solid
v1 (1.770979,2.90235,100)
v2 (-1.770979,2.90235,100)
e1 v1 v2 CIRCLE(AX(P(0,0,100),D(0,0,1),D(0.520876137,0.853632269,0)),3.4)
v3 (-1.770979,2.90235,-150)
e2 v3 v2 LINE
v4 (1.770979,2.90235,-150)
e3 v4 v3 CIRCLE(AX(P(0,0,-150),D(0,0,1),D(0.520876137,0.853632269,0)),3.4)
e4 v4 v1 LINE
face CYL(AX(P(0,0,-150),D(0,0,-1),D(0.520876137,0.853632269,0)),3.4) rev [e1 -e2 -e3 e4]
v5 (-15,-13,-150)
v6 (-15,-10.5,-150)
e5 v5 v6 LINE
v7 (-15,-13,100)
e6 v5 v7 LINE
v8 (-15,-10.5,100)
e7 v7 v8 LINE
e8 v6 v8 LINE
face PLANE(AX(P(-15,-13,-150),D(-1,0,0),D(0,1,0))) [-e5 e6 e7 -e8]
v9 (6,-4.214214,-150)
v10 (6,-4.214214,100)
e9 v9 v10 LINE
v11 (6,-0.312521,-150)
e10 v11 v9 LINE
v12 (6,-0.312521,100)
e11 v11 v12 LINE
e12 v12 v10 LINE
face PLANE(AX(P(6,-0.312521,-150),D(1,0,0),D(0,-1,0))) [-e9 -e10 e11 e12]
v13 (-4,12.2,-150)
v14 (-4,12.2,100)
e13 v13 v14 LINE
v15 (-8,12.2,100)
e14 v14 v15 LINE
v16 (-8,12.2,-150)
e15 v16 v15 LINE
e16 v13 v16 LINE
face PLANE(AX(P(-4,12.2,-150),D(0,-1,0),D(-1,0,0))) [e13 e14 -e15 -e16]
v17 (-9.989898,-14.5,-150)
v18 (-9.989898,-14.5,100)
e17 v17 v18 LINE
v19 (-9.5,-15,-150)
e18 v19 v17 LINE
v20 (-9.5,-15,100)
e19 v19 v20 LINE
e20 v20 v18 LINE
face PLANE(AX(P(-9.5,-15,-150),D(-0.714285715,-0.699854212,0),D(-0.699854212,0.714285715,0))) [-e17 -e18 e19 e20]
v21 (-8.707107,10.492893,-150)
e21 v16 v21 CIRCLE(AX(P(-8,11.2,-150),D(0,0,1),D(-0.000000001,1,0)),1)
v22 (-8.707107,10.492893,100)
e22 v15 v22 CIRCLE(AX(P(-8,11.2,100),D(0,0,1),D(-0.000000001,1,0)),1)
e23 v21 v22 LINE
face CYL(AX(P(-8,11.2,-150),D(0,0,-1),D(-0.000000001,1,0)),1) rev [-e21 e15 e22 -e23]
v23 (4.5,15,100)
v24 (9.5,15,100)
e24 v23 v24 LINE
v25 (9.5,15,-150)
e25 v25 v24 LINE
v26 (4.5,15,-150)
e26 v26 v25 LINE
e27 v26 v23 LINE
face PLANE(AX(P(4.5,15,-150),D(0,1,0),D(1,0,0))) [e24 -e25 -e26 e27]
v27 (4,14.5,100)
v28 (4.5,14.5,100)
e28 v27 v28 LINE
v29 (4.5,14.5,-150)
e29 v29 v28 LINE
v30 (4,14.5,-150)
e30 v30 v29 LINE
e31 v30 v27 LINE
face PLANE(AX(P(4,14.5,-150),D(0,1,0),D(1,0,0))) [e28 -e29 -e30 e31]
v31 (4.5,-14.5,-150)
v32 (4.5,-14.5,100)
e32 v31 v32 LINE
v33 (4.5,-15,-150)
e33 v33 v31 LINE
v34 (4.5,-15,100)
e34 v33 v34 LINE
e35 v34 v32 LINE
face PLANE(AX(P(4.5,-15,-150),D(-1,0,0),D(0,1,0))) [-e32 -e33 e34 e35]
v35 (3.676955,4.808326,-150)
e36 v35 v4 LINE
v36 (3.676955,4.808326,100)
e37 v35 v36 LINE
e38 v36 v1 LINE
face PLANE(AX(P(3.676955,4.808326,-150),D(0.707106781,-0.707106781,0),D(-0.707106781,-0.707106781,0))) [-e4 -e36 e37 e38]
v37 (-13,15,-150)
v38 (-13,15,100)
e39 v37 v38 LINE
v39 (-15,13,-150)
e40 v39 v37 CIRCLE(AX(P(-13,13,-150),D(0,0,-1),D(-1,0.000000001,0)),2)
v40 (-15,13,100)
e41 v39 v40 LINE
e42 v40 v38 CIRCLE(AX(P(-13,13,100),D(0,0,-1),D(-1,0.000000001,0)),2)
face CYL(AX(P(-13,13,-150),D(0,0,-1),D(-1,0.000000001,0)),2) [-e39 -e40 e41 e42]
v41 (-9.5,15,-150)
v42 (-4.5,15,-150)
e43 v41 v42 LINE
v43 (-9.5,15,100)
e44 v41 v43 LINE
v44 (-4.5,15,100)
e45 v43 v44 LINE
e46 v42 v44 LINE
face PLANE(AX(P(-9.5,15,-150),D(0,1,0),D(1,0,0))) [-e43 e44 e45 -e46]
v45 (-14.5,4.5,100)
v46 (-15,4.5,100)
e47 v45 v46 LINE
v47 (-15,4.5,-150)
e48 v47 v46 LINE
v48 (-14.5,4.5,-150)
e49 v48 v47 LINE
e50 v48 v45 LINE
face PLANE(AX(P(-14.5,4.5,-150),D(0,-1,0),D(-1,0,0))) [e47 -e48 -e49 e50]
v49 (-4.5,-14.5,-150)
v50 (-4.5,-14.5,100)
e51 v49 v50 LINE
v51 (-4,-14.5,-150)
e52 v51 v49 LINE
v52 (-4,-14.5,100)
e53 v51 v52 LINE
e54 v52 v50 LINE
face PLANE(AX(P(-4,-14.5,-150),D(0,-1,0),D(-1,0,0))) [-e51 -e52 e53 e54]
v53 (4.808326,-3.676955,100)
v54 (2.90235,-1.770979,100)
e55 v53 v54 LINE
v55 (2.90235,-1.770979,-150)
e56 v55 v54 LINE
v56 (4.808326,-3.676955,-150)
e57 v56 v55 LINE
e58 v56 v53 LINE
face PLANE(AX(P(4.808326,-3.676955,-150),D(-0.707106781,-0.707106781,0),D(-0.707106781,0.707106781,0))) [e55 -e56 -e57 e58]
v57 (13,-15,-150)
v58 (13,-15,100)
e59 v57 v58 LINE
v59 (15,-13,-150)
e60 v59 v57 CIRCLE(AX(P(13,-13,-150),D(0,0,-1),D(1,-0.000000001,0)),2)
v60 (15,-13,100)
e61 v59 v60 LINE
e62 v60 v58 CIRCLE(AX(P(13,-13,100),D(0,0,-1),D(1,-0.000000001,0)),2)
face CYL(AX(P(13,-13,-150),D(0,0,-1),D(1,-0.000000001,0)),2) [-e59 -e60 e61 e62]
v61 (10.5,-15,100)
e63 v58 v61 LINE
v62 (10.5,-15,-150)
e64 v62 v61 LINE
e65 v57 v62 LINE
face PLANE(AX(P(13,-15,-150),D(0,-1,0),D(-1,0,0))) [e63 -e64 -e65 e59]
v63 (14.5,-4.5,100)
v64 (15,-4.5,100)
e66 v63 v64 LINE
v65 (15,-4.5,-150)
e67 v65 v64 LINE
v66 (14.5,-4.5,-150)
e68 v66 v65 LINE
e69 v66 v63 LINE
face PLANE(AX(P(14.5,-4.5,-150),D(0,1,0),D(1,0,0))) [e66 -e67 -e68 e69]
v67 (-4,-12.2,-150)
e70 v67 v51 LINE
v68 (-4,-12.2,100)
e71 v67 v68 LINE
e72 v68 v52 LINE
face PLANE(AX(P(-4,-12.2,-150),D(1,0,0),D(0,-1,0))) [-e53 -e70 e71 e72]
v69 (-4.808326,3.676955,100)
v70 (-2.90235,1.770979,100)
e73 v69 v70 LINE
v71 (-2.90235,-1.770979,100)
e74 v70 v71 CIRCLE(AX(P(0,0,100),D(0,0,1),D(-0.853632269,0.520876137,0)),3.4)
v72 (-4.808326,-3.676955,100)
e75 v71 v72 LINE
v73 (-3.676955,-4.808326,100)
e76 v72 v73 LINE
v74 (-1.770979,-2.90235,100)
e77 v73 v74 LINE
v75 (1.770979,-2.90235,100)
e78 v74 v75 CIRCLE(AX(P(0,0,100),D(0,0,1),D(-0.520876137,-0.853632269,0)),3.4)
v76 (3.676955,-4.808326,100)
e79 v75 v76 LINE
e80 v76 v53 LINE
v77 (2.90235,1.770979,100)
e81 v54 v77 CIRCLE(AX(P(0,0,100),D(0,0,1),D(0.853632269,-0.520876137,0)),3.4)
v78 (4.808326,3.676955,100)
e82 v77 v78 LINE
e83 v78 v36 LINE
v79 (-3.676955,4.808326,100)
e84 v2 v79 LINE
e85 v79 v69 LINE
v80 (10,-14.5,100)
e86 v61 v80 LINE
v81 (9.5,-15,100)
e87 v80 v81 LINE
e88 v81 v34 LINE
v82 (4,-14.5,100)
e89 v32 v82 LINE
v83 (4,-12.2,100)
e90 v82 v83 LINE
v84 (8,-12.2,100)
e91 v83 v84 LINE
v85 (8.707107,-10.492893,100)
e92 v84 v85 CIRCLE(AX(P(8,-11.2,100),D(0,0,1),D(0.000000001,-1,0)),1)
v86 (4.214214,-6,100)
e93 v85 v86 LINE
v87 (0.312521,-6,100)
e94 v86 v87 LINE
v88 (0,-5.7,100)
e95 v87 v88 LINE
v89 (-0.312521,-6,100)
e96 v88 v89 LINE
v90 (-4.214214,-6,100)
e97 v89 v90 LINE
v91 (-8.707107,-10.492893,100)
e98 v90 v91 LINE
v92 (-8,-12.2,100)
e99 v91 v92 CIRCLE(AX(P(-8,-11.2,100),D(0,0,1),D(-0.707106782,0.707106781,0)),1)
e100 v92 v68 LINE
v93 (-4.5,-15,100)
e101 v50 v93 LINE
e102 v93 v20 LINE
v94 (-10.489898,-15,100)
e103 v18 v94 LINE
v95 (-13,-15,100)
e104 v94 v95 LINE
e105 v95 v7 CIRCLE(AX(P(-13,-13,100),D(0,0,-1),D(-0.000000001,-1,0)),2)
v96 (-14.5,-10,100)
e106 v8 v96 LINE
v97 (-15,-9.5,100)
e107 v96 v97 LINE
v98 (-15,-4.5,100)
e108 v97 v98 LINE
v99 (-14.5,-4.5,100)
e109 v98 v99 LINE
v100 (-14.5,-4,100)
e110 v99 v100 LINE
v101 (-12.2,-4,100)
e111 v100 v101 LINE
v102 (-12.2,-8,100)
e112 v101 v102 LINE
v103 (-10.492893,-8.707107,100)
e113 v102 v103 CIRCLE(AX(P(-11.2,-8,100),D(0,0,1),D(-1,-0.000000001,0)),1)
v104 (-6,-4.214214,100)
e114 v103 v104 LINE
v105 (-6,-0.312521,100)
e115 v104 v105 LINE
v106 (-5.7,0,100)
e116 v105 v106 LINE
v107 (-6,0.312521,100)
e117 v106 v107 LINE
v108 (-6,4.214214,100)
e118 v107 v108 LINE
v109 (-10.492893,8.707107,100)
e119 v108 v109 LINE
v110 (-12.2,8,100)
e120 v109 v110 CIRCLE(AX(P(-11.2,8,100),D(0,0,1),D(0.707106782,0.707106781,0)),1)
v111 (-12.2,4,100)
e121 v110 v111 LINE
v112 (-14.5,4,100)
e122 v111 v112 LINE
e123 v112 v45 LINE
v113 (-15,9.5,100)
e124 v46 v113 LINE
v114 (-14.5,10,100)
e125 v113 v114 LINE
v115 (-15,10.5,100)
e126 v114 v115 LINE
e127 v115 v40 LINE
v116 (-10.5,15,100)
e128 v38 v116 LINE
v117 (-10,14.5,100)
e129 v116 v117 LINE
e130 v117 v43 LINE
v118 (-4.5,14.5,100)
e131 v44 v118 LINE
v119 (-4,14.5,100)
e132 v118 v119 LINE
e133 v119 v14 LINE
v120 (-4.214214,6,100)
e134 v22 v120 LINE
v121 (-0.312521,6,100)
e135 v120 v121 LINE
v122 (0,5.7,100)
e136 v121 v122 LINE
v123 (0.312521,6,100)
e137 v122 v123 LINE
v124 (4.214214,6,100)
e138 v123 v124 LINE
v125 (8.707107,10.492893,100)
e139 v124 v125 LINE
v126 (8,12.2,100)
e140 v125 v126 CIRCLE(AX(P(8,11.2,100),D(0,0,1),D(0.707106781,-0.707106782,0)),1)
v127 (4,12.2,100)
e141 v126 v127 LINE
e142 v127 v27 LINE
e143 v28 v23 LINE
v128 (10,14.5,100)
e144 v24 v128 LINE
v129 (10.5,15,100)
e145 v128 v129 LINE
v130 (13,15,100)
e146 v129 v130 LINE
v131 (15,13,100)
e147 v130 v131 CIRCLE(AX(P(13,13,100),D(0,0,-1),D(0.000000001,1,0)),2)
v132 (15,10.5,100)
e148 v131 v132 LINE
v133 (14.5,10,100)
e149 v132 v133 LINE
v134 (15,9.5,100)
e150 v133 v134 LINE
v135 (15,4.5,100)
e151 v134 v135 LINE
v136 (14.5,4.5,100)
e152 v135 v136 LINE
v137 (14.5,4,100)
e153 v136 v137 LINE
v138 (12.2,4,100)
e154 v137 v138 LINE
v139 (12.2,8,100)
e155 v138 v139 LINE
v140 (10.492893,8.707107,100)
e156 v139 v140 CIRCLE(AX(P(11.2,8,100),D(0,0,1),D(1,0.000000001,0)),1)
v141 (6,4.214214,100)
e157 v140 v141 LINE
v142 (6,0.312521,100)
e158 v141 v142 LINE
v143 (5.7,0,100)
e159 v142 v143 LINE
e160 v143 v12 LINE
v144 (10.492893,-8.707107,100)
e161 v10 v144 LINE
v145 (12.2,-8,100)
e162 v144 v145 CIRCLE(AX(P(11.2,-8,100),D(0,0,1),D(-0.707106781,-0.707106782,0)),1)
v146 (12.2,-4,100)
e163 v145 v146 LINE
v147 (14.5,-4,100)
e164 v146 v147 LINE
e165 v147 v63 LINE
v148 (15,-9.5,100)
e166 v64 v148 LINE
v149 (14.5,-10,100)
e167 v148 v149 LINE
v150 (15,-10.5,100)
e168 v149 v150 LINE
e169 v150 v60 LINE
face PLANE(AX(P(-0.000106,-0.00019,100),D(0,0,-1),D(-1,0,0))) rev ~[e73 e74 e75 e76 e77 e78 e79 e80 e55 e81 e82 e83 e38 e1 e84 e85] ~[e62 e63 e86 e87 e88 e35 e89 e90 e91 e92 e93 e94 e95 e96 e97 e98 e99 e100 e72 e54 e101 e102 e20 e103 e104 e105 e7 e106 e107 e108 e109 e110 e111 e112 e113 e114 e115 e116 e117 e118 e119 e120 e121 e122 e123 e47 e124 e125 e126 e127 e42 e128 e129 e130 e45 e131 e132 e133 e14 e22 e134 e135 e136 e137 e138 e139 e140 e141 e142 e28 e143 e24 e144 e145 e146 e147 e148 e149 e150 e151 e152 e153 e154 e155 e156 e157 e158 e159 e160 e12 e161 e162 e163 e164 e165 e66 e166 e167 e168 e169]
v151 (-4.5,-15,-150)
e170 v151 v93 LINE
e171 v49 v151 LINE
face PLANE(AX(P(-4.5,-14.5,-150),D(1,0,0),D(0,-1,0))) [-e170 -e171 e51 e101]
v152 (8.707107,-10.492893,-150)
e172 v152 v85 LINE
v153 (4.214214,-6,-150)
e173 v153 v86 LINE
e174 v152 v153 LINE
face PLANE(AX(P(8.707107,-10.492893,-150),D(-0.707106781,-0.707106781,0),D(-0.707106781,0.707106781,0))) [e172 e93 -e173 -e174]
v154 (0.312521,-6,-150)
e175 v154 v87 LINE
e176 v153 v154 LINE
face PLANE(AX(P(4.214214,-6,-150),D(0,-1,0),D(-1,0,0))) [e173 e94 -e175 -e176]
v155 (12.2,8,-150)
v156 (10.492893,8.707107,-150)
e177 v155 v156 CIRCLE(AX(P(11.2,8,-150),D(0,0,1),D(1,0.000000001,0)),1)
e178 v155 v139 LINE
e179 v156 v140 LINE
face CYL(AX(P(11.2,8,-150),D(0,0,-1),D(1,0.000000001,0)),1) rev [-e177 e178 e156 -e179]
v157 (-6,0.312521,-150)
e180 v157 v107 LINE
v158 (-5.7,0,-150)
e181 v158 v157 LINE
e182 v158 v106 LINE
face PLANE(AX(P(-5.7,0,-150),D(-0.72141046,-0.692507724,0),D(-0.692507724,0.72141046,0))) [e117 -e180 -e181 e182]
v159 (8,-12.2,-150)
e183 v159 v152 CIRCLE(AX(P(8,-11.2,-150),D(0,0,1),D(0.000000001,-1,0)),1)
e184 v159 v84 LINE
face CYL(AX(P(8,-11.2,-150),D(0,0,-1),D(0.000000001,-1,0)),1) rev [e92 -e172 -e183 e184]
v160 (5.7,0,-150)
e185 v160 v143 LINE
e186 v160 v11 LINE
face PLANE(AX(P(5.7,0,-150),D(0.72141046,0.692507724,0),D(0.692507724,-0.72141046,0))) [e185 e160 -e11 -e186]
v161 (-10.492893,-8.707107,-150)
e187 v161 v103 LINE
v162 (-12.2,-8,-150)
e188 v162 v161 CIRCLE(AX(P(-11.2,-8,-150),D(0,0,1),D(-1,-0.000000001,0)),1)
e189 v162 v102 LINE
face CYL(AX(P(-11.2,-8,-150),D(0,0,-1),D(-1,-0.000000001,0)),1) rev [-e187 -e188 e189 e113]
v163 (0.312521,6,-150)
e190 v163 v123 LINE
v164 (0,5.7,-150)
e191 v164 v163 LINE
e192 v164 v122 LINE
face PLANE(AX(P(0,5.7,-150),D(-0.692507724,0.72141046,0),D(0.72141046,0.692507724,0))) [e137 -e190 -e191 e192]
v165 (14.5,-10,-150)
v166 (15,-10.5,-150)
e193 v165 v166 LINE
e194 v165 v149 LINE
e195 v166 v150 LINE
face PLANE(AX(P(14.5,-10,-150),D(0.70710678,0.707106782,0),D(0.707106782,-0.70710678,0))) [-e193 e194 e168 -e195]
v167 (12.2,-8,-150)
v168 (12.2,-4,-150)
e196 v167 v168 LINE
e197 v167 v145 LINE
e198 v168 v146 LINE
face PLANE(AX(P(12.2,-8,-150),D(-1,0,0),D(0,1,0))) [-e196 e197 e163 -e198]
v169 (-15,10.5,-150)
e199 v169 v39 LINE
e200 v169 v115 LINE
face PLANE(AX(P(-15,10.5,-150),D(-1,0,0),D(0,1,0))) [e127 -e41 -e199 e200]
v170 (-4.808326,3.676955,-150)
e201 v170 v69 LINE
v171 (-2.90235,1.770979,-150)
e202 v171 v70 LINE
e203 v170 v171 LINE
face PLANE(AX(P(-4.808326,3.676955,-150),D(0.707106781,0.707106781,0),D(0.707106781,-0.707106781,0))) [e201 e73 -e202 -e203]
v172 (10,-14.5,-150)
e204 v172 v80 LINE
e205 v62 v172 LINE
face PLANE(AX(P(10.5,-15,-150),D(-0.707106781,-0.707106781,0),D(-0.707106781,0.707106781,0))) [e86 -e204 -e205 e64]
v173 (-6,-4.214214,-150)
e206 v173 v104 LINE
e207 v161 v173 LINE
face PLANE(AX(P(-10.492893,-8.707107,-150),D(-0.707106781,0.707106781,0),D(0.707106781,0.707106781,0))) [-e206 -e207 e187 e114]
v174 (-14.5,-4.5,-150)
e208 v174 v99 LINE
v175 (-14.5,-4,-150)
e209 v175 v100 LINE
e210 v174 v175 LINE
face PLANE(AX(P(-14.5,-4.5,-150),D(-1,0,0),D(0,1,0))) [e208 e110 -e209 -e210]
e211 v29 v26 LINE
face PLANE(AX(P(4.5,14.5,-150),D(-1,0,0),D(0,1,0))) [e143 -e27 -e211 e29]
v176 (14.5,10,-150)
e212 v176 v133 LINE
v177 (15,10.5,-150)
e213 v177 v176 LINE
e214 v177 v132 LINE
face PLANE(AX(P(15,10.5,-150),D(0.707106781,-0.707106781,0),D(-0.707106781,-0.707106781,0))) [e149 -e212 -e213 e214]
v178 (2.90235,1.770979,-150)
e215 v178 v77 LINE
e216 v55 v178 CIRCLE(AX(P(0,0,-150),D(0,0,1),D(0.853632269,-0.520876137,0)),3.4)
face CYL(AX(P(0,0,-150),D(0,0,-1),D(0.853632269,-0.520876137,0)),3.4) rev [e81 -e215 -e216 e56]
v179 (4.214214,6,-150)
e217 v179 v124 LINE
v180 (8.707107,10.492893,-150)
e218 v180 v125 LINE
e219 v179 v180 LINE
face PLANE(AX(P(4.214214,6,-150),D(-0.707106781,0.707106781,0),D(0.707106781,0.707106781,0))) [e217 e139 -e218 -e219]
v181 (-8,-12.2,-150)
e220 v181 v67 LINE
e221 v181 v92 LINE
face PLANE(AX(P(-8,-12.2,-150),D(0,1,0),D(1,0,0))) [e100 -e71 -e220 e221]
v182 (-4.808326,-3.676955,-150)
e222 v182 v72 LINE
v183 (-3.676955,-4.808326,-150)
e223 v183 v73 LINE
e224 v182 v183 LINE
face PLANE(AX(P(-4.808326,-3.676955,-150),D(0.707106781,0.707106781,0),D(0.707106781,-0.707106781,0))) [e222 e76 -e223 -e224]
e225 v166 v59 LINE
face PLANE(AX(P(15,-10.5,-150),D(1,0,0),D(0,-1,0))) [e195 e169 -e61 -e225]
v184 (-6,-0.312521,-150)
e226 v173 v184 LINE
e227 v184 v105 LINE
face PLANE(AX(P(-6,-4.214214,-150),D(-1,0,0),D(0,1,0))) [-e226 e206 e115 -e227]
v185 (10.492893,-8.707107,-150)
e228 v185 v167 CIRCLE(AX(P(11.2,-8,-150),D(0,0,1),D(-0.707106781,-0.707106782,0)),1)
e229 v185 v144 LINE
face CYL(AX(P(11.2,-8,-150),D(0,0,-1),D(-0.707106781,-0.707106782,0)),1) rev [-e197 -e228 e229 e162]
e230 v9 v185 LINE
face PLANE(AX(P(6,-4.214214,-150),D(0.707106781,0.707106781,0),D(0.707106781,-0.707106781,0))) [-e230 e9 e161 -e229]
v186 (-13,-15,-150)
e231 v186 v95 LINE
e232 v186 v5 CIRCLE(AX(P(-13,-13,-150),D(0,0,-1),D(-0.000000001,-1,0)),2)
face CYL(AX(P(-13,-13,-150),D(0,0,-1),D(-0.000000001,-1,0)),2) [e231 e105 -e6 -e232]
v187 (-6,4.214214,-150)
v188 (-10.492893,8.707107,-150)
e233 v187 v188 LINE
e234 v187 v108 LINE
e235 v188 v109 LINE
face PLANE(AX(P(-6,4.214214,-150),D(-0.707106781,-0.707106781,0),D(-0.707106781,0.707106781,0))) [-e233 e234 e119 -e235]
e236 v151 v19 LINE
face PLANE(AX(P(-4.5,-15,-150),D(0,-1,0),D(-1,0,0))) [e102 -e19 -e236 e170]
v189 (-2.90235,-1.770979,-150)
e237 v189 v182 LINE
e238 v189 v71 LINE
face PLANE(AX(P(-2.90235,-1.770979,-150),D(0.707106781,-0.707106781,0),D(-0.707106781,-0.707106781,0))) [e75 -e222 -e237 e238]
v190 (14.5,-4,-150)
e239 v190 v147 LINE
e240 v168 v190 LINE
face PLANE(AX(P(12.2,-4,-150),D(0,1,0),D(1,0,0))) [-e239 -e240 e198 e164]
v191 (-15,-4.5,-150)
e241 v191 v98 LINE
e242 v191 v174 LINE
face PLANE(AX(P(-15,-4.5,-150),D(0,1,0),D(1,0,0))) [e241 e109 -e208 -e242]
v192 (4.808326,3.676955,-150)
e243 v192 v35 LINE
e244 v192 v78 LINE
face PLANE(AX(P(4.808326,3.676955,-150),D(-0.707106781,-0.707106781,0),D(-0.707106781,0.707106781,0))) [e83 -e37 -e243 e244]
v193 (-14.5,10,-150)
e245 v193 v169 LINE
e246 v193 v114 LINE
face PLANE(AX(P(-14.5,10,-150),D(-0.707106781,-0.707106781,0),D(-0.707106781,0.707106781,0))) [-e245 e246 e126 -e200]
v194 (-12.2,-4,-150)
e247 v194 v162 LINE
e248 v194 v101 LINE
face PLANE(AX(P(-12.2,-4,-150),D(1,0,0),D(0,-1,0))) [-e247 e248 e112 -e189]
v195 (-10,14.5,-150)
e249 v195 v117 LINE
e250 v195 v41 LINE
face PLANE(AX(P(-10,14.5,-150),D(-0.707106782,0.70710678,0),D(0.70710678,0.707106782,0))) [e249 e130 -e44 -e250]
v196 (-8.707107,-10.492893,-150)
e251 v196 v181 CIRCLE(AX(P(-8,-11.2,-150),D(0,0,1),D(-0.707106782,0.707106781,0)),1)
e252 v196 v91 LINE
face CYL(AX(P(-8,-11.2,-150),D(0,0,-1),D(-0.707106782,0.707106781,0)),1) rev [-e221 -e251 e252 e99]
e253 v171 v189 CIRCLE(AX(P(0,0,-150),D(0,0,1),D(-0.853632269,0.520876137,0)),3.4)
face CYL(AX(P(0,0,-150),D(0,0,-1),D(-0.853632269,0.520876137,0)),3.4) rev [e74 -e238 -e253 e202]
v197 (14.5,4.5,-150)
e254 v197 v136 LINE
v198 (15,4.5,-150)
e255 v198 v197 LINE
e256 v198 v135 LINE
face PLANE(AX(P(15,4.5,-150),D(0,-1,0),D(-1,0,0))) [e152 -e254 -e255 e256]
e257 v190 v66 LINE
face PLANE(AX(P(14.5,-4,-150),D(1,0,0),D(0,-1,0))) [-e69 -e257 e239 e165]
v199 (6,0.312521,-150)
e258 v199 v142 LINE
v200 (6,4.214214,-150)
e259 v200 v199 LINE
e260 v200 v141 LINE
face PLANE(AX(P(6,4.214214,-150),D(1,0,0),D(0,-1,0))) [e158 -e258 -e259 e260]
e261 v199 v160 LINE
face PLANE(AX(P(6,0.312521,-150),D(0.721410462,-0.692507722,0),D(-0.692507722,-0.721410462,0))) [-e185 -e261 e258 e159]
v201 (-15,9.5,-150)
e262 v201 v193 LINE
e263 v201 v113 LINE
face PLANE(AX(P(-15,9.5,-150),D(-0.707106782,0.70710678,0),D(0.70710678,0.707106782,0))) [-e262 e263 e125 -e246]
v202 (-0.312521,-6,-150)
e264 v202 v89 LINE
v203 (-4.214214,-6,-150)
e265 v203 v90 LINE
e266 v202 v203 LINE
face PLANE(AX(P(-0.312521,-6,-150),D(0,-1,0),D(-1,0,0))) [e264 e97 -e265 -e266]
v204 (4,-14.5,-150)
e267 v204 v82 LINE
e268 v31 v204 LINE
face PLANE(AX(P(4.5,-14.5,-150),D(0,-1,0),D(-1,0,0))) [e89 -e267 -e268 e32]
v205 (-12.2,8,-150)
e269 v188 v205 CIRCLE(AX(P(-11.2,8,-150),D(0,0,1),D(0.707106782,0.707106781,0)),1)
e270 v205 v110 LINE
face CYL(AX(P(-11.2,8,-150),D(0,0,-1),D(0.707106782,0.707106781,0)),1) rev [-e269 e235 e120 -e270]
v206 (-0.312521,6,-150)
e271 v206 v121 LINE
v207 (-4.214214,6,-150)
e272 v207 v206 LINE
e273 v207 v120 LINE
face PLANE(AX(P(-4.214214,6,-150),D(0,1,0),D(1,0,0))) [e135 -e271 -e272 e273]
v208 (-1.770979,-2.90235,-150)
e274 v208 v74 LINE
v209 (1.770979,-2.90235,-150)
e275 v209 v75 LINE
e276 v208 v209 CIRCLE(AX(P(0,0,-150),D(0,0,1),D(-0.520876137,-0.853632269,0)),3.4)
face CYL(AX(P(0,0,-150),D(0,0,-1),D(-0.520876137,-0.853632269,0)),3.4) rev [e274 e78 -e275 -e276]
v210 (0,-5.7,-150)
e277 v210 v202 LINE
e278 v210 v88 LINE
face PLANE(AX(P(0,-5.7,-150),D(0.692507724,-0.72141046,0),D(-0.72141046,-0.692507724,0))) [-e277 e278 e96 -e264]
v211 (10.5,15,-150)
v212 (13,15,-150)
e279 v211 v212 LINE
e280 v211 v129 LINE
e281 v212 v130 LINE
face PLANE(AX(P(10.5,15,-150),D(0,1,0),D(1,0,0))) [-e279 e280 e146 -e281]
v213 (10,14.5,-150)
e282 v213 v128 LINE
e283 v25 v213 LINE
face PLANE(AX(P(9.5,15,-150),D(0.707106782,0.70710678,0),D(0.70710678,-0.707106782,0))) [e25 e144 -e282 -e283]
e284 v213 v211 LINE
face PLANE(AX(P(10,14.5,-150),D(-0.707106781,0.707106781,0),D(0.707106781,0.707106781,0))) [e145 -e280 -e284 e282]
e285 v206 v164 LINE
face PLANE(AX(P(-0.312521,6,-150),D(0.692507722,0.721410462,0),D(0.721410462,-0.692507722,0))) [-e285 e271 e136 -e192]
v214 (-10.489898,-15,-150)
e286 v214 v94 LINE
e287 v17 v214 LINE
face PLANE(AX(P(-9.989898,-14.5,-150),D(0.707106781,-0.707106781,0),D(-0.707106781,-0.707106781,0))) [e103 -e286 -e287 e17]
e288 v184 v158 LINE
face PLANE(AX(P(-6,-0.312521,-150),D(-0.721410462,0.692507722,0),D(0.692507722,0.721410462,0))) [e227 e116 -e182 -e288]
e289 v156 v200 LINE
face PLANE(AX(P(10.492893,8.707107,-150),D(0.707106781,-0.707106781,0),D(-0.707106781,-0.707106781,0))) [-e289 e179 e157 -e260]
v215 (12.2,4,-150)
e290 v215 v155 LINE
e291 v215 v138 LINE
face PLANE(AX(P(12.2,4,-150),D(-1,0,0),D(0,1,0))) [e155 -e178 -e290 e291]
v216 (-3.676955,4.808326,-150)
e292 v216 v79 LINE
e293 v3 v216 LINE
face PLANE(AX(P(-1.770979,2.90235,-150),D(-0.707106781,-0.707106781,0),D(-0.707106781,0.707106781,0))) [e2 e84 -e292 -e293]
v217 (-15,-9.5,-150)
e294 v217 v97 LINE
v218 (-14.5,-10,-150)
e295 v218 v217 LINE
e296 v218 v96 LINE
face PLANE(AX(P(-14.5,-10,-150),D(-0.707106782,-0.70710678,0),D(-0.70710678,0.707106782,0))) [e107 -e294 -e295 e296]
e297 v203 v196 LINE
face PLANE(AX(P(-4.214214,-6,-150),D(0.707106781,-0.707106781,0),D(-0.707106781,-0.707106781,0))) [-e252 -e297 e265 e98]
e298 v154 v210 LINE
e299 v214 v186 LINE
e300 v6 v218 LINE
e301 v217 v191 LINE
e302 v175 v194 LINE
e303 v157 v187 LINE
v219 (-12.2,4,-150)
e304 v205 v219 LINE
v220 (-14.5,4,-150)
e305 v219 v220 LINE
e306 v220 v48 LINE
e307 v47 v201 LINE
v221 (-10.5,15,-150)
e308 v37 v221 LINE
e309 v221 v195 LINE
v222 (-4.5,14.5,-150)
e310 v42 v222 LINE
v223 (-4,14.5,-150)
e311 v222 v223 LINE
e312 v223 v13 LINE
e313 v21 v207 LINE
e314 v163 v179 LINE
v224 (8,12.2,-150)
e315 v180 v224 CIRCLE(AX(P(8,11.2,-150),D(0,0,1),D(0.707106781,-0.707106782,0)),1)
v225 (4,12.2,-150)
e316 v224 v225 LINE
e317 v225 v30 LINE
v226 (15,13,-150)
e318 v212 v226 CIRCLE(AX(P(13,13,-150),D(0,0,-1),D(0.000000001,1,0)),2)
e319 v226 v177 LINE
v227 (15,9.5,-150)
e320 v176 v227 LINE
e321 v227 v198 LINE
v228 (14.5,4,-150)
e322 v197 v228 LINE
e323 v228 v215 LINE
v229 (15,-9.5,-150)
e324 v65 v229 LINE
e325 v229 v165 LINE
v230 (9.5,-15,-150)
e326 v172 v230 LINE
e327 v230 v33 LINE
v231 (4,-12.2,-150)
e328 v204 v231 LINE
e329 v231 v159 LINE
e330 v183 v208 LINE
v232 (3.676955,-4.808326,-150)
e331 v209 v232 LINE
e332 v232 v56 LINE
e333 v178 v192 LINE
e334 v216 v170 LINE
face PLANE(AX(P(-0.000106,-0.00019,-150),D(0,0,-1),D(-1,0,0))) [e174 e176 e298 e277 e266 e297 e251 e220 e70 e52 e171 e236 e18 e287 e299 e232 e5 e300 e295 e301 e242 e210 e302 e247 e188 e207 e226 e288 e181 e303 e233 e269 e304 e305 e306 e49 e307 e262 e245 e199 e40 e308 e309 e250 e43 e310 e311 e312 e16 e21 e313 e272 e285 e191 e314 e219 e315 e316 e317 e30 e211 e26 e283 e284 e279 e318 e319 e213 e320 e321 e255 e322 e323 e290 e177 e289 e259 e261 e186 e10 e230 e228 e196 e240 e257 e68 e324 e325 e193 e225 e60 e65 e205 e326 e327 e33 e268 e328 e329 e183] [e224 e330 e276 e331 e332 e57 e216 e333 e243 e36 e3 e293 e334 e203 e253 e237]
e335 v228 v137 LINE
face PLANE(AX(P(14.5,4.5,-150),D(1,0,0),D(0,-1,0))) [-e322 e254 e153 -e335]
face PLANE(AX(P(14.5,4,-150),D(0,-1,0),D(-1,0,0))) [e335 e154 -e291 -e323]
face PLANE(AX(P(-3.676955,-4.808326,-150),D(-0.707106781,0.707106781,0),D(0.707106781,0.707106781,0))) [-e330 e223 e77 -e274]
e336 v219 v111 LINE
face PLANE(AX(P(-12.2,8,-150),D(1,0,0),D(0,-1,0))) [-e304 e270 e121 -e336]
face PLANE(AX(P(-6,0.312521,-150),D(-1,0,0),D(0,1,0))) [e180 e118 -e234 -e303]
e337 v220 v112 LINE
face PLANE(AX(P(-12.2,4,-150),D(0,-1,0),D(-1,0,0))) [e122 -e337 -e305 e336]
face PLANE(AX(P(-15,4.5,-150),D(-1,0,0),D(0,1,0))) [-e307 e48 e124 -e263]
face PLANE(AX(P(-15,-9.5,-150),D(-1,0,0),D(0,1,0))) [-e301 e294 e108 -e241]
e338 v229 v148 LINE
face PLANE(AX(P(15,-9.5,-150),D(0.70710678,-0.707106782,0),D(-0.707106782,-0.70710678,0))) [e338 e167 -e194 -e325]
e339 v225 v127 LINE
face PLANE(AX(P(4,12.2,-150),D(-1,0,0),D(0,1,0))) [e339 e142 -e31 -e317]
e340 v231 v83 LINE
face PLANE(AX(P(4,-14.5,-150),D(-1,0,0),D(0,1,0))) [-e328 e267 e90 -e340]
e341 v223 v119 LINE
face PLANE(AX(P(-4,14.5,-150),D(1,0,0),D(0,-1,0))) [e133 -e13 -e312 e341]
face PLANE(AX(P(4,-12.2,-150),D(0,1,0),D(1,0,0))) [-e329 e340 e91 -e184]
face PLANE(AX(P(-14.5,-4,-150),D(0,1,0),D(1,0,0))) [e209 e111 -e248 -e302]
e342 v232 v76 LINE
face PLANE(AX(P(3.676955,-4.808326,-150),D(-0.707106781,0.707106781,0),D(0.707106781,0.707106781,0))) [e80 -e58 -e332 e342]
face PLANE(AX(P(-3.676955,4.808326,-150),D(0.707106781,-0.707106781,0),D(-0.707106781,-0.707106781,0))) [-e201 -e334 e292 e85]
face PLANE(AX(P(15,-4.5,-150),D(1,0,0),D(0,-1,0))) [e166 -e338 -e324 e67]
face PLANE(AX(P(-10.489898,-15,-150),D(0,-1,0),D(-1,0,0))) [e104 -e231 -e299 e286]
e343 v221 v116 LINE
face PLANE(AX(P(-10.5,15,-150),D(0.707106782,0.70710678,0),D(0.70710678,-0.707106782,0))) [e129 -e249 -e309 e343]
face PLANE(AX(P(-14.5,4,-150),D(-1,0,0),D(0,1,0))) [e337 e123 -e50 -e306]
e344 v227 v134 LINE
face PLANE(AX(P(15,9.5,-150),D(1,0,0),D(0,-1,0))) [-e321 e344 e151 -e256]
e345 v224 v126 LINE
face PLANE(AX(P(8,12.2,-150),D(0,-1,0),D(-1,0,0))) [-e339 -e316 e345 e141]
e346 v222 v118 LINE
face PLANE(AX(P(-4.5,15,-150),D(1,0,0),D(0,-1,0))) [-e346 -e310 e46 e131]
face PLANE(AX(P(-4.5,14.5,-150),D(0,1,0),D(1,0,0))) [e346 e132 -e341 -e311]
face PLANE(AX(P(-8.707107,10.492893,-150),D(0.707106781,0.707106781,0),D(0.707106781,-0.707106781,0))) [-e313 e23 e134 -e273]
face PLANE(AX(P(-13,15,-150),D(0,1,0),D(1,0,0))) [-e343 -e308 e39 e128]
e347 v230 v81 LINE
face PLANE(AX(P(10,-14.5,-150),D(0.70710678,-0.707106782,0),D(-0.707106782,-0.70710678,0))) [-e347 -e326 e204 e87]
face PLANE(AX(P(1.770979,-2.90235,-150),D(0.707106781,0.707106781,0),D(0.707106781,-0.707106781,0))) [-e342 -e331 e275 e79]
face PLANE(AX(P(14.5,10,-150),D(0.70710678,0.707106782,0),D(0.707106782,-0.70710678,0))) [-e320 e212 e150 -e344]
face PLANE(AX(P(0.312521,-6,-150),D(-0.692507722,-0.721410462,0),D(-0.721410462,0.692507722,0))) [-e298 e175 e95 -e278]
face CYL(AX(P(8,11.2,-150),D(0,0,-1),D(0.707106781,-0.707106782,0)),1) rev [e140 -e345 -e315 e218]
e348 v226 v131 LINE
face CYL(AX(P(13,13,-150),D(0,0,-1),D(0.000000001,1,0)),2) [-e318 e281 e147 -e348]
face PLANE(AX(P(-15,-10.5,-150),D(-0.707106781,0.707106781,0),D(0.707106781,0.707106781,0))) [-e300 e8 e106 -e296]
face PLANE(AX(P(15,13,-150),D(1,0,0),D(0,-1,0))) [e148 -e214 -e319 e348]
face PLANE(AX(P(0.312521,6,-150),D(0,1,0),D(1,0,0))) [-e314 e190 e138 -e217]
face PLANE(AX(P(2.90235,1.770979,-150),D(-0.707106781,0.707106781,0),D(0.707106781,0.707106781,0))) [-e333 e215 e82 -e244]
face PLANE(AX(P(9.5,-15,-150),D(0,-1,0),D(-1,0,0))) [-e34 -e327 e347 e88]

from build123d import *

# Parameters (mm, degrees)
BOSS_EXTRUDE1_DEPTH = 250


with BuildPart() as part:
    # Sketch1 → Boss-Extrude1 (new body)
    with BuildSketch(Plane(origin=(0, 0, -150), x_dir=(-1, 0, 0), z_dir=(0, 0, -1))):
        with BuildLine():
            Line((-14.999999999, 12.999999999), (-14.999999999, 10.499999999))
            Line((-14.999999999, 10.499999999), (-14.499999999, 9.999999999))
            Line((-14.499999999, 9.999999999), (-14.999999999, 9.5))
            Line((-14.999999999, 9.5), (-14.999999999, 4.5))
            Line((-14.999999999, 4.5), (-14.5, 4.5))
            Line((-14.5, 4.5), (-14.5, 4))
            Line((-14.5, 4), (-12.200000005, 4))
            Line((-12.200000005, 4), (-12.200000005, 7.999999995))
            ThreePointArc((-12.200000005, 7.999999995), (-11.582683434, 8.923879532), (-10.492893215, 8.70710678))
            Line((-10.492893215, 8.70710678), (-6, 4.214213564))
            Line((-6, 4.214213564), (-6, 0.312520903))
            Line((-6, 0.312520903), (-5.7, 0))
            Line((-5.7, 0), (-6, -0.312520901))
            Line((-6, -0.312520901), (-6, -4.214213564))
            Line((-6, -4.214213564), (-10.492893215, -8.70710678))
            ThreePointArc((-10.492893215, -8.70710678), (-11.582683434, -8.923879532), (-12.200000005, -7.999999995))
            Line((-12.200000005, -7.999999995), (-12.200000005, -4))
            Line((-12.200000005, -4), (-14.5, -4))
            Line((-14.5, -4), (-14.5, -4.5))
            Line((-14.5, -4.5), (-14.999999999, -4.5))
            Line((-14.999999999, -4.5), (-14.999999999, -9.500000003))
            Line((-14.999999999, -9.500000003), (-14.499999999, -10.000000002))
            Line((-14.499999999, -10.000000002), (-14.999999999, -10.500000001))
            Line((-14.999999999, -10.500000001), (-14.999999999, -13))
            ThreePointArc((-14.999999999, -13), (-14.414213561, -14.414213562), (-12.999999999, -15))
            Line((-12.999999999, -15), (-10.5, -15))
            Line((-10.5, -15), (-10.000000001, -14.500000001))
            Line((-10.000000001, -14.500000001), (-9.500000001, -15))
            Line((-9.500000001, -15), (-4.5, -15))
            Line((-4.5, -15), (-4.5, -14.5))
            Line((-4.5, -14.5), (-4, -14.5))
            Line((-4, -14.5), (-4, -12.200000005))
            Line((-4, -12.200000005), (-7.999999995, -12.200000005))
            ThreePointArc((-7.999999995, -12.200000005), (-8.923879532, -11.582683434), (-8.70710678, -10.492893215))
            Line((-8.70710678, -10.492893215), (-4.214213564, -6))
            Line((-4.214213564, -6), (-0.312520903, -6))
            Line((-0.312520903, -6), (0, -5.7))
            Line((0, -5.7), (0.312520901, -6))
            Line((0.312520901, -6), (4.214213564, -6))
            Line((4.214213564, -6), (8.70710678, -10.492893215))
            ThreePointArc((8.70710678, -10.492893215), (8.923879532, -11.582683434), (7.999999995, -12.200000005))
            Line((7.999999995, -12.200000005), (4, -12.200000005))
            Line((4, -12.200000005), (4, -14.5))
            Line((4, -14.5), (4.5, -14.5))
            Line((4.5, -14.5), (4.5, -15))
            Line((4.5, -15), (9.500000001, -15))
            Line((9.500000001, -15), (9.989897949, -14.5))
            Line((9.989897949, -14.5), (10.489897949, -15))
            Line((10.489897949, -15), (13, -15))
            ThreePointArc((13, -15), (14.414213562, -14.414213562), (15, -13))
            Line((15, -13), (15, -10.5))
            Line((15, -10.5), (14.500000001, -10.000000001))
            Line((14.500000001, -10.000000001), (15, -9.500000001))
            Line((15, -9.500000001), (15, -4.5))
            Line((15, -4.5), (14.5, -4.5))
            Line((14.5, -4.5), (14.5, -4))
            Line((14.5, -4), (12.200000005, -4))
            Line((12.200000005, -4), (12.200000005, -7.999999995))
            ThreePointArc((12.200000005, -7.999999995), (11.582683434, -8.923879532), (10.492893215, -8.70710678))
            Line((10.492893215, -8.70710678), (6, -4.214213564))
            Line((6, -4.214213564), (6, -0.312520903))
            Line((6, -0.312520903), (5.7, 0))
            Line((5.7, 0), (6, 0.312520901))
            Line((6, 0.312520901), (6, 4.214213564))
            Line((6, 4.214213564), (10.492893215, 8.707106779))
            ThreePointArc((10.492893215, 8.707106779), (11.582683434, 8.923879532), (12.200000005, 7.999999994))
            Line((12.200000005, 7.999999994), (12.200000005, 4))
            Line((12.200000005, 4), (14.5, 4))
            Line((14.5, 4), (14.5, 4.5))
            Line((14.5, 4.5), (15, 4.5))
            Line((15, 4.5), (15, 9.500000001))
            Line((15, 9.500000001), (14.500000001, 10.000000001))
            Line((14.500000001, 10.000000001), (15, 10.5))
            Line((15, 10.5), (15, 12.999999999))
            ThreePointArc((15, 12.999999999), (14.414213562, 14.414213561), (13, 14.999999999))
            Line((13, 14.999999999), (10.500000001, 14.999999999))
            Line((10.500000001, 14.999999999), (10.000000002, 14.499999999))
            Line((10.000000002, 14.499999999), (9.500000003, 14.999999999))
            Line((9.500000003, 14.999999999), (4.5, 14.999999999))
            Line((4.5, 14.999999999), (4.5, 14.5))
            Line((4.5, 14.5), (4, 14.5))
            Line((4, 14.5), (4, 12.200000005))
            Line((4, 12.200000005), (7.999999995, 12.200000005))
            ThreePointArc((7.999999995, 12.200000005), (8.923879532, 11.582683434), (8.70710678, 10.492893215))
            Line((8.70710678, 10.492893215), (4.214213564, 6))
            Line((4.214213564, 6), (0.312520903, 6))
            Line((0.312520903, 6), (0, 5.7))
            Line((0, 5.7), (-0.312520901, 6))
            Line((-0.312520901, 6), (-4.214213564, 6))
            Line((-4.214213564, 6), (-8.707106779, 10.492893215))
            ThreePointArc((-8.707106779, 10.492893215), (-8.923879532, 11.582683434), (-7.999999994, 12.200000005))
            Line((-7.999999994, 12.200000005), (-4, 12.200000005))
            Line((-4, 12.200000005), (-4, 14.5))
            Line((-4, 14.5), (-4.5, 14.5))
            Line((-4.5, 14.5), (-4.5, 14.999999999))
            Line((-4.5, 14.999999999), (-9.5, 14.999999999))
            Line((-9.5, 14.999999999), (-9.999999999, 14.499999999))
            Line((-9.999999999, 14.499999999), (-10.499999999, 14.999999999))
            Line((-10.499999999, 14.999999999), (-12.999999999, 14.999999999))
            ThreePointArc((-12.999999999, 14.999999999), (-14.414213561, 14.414213561), (-14.999999999, 12.999999999))
        make_face()
        with BuildLine():
            Line((4.808326112, 3.676955262), (2.902349714, 1.770978864))
            ThreePointArc((2.902349714, 1.770978864), (3.4, 0), (2.902349714, -1.770978864))
            Line((2.902349714, -1.770978864), (4.808326112, -3.676955262))
            Line((4.808326112, -3.676955262), (3.676955262, -4.808326112))
            Line((3.676955262, -4.808326112), (1.770978864, -2.902349714))
            ThreePointArc((1.770978864, -2.902349714), (0, -3.4), (-1.770978864, -2.902349714))
            Line((-1.770978864, -2.902349714), (-3.676955262, -4.808326112))
            Line((-3.676955262, -4.808326112), (-4.808326112, -3.676955262))
            Line((-4.808326112, -3.676955262), (-2.902349714, -1.770978864))
            ThreePointArc((-2.902349714, -1.770978864), (-3.4, 0), (-2.902349714, 1.770978864))
            Line((-2.902349714, 1.770978864), (-4.808326112, 3.676955262))
            Line((-4.808326112, 3.676955262), (-3.676955262, 4.808326112))
            Line((-3.676955262, 4.808326112), (-1.770978864, 2.902349714))
            ThreePointArc((-1.770978864, 2.902349714), (0, 3.4), (1.770978864, 2.902349714))
            Line((1.770978864, 2.902349714), (3.676955262, 4.808326112))
            Line((3.676955262, 4.808326112), (4.808326112, 3.676955262))
        make_face(mode=Mode.SUBTRACT)
    extrude(amount=-BOSS_EXTRUDE1_DEPTH)


solid = part.part
